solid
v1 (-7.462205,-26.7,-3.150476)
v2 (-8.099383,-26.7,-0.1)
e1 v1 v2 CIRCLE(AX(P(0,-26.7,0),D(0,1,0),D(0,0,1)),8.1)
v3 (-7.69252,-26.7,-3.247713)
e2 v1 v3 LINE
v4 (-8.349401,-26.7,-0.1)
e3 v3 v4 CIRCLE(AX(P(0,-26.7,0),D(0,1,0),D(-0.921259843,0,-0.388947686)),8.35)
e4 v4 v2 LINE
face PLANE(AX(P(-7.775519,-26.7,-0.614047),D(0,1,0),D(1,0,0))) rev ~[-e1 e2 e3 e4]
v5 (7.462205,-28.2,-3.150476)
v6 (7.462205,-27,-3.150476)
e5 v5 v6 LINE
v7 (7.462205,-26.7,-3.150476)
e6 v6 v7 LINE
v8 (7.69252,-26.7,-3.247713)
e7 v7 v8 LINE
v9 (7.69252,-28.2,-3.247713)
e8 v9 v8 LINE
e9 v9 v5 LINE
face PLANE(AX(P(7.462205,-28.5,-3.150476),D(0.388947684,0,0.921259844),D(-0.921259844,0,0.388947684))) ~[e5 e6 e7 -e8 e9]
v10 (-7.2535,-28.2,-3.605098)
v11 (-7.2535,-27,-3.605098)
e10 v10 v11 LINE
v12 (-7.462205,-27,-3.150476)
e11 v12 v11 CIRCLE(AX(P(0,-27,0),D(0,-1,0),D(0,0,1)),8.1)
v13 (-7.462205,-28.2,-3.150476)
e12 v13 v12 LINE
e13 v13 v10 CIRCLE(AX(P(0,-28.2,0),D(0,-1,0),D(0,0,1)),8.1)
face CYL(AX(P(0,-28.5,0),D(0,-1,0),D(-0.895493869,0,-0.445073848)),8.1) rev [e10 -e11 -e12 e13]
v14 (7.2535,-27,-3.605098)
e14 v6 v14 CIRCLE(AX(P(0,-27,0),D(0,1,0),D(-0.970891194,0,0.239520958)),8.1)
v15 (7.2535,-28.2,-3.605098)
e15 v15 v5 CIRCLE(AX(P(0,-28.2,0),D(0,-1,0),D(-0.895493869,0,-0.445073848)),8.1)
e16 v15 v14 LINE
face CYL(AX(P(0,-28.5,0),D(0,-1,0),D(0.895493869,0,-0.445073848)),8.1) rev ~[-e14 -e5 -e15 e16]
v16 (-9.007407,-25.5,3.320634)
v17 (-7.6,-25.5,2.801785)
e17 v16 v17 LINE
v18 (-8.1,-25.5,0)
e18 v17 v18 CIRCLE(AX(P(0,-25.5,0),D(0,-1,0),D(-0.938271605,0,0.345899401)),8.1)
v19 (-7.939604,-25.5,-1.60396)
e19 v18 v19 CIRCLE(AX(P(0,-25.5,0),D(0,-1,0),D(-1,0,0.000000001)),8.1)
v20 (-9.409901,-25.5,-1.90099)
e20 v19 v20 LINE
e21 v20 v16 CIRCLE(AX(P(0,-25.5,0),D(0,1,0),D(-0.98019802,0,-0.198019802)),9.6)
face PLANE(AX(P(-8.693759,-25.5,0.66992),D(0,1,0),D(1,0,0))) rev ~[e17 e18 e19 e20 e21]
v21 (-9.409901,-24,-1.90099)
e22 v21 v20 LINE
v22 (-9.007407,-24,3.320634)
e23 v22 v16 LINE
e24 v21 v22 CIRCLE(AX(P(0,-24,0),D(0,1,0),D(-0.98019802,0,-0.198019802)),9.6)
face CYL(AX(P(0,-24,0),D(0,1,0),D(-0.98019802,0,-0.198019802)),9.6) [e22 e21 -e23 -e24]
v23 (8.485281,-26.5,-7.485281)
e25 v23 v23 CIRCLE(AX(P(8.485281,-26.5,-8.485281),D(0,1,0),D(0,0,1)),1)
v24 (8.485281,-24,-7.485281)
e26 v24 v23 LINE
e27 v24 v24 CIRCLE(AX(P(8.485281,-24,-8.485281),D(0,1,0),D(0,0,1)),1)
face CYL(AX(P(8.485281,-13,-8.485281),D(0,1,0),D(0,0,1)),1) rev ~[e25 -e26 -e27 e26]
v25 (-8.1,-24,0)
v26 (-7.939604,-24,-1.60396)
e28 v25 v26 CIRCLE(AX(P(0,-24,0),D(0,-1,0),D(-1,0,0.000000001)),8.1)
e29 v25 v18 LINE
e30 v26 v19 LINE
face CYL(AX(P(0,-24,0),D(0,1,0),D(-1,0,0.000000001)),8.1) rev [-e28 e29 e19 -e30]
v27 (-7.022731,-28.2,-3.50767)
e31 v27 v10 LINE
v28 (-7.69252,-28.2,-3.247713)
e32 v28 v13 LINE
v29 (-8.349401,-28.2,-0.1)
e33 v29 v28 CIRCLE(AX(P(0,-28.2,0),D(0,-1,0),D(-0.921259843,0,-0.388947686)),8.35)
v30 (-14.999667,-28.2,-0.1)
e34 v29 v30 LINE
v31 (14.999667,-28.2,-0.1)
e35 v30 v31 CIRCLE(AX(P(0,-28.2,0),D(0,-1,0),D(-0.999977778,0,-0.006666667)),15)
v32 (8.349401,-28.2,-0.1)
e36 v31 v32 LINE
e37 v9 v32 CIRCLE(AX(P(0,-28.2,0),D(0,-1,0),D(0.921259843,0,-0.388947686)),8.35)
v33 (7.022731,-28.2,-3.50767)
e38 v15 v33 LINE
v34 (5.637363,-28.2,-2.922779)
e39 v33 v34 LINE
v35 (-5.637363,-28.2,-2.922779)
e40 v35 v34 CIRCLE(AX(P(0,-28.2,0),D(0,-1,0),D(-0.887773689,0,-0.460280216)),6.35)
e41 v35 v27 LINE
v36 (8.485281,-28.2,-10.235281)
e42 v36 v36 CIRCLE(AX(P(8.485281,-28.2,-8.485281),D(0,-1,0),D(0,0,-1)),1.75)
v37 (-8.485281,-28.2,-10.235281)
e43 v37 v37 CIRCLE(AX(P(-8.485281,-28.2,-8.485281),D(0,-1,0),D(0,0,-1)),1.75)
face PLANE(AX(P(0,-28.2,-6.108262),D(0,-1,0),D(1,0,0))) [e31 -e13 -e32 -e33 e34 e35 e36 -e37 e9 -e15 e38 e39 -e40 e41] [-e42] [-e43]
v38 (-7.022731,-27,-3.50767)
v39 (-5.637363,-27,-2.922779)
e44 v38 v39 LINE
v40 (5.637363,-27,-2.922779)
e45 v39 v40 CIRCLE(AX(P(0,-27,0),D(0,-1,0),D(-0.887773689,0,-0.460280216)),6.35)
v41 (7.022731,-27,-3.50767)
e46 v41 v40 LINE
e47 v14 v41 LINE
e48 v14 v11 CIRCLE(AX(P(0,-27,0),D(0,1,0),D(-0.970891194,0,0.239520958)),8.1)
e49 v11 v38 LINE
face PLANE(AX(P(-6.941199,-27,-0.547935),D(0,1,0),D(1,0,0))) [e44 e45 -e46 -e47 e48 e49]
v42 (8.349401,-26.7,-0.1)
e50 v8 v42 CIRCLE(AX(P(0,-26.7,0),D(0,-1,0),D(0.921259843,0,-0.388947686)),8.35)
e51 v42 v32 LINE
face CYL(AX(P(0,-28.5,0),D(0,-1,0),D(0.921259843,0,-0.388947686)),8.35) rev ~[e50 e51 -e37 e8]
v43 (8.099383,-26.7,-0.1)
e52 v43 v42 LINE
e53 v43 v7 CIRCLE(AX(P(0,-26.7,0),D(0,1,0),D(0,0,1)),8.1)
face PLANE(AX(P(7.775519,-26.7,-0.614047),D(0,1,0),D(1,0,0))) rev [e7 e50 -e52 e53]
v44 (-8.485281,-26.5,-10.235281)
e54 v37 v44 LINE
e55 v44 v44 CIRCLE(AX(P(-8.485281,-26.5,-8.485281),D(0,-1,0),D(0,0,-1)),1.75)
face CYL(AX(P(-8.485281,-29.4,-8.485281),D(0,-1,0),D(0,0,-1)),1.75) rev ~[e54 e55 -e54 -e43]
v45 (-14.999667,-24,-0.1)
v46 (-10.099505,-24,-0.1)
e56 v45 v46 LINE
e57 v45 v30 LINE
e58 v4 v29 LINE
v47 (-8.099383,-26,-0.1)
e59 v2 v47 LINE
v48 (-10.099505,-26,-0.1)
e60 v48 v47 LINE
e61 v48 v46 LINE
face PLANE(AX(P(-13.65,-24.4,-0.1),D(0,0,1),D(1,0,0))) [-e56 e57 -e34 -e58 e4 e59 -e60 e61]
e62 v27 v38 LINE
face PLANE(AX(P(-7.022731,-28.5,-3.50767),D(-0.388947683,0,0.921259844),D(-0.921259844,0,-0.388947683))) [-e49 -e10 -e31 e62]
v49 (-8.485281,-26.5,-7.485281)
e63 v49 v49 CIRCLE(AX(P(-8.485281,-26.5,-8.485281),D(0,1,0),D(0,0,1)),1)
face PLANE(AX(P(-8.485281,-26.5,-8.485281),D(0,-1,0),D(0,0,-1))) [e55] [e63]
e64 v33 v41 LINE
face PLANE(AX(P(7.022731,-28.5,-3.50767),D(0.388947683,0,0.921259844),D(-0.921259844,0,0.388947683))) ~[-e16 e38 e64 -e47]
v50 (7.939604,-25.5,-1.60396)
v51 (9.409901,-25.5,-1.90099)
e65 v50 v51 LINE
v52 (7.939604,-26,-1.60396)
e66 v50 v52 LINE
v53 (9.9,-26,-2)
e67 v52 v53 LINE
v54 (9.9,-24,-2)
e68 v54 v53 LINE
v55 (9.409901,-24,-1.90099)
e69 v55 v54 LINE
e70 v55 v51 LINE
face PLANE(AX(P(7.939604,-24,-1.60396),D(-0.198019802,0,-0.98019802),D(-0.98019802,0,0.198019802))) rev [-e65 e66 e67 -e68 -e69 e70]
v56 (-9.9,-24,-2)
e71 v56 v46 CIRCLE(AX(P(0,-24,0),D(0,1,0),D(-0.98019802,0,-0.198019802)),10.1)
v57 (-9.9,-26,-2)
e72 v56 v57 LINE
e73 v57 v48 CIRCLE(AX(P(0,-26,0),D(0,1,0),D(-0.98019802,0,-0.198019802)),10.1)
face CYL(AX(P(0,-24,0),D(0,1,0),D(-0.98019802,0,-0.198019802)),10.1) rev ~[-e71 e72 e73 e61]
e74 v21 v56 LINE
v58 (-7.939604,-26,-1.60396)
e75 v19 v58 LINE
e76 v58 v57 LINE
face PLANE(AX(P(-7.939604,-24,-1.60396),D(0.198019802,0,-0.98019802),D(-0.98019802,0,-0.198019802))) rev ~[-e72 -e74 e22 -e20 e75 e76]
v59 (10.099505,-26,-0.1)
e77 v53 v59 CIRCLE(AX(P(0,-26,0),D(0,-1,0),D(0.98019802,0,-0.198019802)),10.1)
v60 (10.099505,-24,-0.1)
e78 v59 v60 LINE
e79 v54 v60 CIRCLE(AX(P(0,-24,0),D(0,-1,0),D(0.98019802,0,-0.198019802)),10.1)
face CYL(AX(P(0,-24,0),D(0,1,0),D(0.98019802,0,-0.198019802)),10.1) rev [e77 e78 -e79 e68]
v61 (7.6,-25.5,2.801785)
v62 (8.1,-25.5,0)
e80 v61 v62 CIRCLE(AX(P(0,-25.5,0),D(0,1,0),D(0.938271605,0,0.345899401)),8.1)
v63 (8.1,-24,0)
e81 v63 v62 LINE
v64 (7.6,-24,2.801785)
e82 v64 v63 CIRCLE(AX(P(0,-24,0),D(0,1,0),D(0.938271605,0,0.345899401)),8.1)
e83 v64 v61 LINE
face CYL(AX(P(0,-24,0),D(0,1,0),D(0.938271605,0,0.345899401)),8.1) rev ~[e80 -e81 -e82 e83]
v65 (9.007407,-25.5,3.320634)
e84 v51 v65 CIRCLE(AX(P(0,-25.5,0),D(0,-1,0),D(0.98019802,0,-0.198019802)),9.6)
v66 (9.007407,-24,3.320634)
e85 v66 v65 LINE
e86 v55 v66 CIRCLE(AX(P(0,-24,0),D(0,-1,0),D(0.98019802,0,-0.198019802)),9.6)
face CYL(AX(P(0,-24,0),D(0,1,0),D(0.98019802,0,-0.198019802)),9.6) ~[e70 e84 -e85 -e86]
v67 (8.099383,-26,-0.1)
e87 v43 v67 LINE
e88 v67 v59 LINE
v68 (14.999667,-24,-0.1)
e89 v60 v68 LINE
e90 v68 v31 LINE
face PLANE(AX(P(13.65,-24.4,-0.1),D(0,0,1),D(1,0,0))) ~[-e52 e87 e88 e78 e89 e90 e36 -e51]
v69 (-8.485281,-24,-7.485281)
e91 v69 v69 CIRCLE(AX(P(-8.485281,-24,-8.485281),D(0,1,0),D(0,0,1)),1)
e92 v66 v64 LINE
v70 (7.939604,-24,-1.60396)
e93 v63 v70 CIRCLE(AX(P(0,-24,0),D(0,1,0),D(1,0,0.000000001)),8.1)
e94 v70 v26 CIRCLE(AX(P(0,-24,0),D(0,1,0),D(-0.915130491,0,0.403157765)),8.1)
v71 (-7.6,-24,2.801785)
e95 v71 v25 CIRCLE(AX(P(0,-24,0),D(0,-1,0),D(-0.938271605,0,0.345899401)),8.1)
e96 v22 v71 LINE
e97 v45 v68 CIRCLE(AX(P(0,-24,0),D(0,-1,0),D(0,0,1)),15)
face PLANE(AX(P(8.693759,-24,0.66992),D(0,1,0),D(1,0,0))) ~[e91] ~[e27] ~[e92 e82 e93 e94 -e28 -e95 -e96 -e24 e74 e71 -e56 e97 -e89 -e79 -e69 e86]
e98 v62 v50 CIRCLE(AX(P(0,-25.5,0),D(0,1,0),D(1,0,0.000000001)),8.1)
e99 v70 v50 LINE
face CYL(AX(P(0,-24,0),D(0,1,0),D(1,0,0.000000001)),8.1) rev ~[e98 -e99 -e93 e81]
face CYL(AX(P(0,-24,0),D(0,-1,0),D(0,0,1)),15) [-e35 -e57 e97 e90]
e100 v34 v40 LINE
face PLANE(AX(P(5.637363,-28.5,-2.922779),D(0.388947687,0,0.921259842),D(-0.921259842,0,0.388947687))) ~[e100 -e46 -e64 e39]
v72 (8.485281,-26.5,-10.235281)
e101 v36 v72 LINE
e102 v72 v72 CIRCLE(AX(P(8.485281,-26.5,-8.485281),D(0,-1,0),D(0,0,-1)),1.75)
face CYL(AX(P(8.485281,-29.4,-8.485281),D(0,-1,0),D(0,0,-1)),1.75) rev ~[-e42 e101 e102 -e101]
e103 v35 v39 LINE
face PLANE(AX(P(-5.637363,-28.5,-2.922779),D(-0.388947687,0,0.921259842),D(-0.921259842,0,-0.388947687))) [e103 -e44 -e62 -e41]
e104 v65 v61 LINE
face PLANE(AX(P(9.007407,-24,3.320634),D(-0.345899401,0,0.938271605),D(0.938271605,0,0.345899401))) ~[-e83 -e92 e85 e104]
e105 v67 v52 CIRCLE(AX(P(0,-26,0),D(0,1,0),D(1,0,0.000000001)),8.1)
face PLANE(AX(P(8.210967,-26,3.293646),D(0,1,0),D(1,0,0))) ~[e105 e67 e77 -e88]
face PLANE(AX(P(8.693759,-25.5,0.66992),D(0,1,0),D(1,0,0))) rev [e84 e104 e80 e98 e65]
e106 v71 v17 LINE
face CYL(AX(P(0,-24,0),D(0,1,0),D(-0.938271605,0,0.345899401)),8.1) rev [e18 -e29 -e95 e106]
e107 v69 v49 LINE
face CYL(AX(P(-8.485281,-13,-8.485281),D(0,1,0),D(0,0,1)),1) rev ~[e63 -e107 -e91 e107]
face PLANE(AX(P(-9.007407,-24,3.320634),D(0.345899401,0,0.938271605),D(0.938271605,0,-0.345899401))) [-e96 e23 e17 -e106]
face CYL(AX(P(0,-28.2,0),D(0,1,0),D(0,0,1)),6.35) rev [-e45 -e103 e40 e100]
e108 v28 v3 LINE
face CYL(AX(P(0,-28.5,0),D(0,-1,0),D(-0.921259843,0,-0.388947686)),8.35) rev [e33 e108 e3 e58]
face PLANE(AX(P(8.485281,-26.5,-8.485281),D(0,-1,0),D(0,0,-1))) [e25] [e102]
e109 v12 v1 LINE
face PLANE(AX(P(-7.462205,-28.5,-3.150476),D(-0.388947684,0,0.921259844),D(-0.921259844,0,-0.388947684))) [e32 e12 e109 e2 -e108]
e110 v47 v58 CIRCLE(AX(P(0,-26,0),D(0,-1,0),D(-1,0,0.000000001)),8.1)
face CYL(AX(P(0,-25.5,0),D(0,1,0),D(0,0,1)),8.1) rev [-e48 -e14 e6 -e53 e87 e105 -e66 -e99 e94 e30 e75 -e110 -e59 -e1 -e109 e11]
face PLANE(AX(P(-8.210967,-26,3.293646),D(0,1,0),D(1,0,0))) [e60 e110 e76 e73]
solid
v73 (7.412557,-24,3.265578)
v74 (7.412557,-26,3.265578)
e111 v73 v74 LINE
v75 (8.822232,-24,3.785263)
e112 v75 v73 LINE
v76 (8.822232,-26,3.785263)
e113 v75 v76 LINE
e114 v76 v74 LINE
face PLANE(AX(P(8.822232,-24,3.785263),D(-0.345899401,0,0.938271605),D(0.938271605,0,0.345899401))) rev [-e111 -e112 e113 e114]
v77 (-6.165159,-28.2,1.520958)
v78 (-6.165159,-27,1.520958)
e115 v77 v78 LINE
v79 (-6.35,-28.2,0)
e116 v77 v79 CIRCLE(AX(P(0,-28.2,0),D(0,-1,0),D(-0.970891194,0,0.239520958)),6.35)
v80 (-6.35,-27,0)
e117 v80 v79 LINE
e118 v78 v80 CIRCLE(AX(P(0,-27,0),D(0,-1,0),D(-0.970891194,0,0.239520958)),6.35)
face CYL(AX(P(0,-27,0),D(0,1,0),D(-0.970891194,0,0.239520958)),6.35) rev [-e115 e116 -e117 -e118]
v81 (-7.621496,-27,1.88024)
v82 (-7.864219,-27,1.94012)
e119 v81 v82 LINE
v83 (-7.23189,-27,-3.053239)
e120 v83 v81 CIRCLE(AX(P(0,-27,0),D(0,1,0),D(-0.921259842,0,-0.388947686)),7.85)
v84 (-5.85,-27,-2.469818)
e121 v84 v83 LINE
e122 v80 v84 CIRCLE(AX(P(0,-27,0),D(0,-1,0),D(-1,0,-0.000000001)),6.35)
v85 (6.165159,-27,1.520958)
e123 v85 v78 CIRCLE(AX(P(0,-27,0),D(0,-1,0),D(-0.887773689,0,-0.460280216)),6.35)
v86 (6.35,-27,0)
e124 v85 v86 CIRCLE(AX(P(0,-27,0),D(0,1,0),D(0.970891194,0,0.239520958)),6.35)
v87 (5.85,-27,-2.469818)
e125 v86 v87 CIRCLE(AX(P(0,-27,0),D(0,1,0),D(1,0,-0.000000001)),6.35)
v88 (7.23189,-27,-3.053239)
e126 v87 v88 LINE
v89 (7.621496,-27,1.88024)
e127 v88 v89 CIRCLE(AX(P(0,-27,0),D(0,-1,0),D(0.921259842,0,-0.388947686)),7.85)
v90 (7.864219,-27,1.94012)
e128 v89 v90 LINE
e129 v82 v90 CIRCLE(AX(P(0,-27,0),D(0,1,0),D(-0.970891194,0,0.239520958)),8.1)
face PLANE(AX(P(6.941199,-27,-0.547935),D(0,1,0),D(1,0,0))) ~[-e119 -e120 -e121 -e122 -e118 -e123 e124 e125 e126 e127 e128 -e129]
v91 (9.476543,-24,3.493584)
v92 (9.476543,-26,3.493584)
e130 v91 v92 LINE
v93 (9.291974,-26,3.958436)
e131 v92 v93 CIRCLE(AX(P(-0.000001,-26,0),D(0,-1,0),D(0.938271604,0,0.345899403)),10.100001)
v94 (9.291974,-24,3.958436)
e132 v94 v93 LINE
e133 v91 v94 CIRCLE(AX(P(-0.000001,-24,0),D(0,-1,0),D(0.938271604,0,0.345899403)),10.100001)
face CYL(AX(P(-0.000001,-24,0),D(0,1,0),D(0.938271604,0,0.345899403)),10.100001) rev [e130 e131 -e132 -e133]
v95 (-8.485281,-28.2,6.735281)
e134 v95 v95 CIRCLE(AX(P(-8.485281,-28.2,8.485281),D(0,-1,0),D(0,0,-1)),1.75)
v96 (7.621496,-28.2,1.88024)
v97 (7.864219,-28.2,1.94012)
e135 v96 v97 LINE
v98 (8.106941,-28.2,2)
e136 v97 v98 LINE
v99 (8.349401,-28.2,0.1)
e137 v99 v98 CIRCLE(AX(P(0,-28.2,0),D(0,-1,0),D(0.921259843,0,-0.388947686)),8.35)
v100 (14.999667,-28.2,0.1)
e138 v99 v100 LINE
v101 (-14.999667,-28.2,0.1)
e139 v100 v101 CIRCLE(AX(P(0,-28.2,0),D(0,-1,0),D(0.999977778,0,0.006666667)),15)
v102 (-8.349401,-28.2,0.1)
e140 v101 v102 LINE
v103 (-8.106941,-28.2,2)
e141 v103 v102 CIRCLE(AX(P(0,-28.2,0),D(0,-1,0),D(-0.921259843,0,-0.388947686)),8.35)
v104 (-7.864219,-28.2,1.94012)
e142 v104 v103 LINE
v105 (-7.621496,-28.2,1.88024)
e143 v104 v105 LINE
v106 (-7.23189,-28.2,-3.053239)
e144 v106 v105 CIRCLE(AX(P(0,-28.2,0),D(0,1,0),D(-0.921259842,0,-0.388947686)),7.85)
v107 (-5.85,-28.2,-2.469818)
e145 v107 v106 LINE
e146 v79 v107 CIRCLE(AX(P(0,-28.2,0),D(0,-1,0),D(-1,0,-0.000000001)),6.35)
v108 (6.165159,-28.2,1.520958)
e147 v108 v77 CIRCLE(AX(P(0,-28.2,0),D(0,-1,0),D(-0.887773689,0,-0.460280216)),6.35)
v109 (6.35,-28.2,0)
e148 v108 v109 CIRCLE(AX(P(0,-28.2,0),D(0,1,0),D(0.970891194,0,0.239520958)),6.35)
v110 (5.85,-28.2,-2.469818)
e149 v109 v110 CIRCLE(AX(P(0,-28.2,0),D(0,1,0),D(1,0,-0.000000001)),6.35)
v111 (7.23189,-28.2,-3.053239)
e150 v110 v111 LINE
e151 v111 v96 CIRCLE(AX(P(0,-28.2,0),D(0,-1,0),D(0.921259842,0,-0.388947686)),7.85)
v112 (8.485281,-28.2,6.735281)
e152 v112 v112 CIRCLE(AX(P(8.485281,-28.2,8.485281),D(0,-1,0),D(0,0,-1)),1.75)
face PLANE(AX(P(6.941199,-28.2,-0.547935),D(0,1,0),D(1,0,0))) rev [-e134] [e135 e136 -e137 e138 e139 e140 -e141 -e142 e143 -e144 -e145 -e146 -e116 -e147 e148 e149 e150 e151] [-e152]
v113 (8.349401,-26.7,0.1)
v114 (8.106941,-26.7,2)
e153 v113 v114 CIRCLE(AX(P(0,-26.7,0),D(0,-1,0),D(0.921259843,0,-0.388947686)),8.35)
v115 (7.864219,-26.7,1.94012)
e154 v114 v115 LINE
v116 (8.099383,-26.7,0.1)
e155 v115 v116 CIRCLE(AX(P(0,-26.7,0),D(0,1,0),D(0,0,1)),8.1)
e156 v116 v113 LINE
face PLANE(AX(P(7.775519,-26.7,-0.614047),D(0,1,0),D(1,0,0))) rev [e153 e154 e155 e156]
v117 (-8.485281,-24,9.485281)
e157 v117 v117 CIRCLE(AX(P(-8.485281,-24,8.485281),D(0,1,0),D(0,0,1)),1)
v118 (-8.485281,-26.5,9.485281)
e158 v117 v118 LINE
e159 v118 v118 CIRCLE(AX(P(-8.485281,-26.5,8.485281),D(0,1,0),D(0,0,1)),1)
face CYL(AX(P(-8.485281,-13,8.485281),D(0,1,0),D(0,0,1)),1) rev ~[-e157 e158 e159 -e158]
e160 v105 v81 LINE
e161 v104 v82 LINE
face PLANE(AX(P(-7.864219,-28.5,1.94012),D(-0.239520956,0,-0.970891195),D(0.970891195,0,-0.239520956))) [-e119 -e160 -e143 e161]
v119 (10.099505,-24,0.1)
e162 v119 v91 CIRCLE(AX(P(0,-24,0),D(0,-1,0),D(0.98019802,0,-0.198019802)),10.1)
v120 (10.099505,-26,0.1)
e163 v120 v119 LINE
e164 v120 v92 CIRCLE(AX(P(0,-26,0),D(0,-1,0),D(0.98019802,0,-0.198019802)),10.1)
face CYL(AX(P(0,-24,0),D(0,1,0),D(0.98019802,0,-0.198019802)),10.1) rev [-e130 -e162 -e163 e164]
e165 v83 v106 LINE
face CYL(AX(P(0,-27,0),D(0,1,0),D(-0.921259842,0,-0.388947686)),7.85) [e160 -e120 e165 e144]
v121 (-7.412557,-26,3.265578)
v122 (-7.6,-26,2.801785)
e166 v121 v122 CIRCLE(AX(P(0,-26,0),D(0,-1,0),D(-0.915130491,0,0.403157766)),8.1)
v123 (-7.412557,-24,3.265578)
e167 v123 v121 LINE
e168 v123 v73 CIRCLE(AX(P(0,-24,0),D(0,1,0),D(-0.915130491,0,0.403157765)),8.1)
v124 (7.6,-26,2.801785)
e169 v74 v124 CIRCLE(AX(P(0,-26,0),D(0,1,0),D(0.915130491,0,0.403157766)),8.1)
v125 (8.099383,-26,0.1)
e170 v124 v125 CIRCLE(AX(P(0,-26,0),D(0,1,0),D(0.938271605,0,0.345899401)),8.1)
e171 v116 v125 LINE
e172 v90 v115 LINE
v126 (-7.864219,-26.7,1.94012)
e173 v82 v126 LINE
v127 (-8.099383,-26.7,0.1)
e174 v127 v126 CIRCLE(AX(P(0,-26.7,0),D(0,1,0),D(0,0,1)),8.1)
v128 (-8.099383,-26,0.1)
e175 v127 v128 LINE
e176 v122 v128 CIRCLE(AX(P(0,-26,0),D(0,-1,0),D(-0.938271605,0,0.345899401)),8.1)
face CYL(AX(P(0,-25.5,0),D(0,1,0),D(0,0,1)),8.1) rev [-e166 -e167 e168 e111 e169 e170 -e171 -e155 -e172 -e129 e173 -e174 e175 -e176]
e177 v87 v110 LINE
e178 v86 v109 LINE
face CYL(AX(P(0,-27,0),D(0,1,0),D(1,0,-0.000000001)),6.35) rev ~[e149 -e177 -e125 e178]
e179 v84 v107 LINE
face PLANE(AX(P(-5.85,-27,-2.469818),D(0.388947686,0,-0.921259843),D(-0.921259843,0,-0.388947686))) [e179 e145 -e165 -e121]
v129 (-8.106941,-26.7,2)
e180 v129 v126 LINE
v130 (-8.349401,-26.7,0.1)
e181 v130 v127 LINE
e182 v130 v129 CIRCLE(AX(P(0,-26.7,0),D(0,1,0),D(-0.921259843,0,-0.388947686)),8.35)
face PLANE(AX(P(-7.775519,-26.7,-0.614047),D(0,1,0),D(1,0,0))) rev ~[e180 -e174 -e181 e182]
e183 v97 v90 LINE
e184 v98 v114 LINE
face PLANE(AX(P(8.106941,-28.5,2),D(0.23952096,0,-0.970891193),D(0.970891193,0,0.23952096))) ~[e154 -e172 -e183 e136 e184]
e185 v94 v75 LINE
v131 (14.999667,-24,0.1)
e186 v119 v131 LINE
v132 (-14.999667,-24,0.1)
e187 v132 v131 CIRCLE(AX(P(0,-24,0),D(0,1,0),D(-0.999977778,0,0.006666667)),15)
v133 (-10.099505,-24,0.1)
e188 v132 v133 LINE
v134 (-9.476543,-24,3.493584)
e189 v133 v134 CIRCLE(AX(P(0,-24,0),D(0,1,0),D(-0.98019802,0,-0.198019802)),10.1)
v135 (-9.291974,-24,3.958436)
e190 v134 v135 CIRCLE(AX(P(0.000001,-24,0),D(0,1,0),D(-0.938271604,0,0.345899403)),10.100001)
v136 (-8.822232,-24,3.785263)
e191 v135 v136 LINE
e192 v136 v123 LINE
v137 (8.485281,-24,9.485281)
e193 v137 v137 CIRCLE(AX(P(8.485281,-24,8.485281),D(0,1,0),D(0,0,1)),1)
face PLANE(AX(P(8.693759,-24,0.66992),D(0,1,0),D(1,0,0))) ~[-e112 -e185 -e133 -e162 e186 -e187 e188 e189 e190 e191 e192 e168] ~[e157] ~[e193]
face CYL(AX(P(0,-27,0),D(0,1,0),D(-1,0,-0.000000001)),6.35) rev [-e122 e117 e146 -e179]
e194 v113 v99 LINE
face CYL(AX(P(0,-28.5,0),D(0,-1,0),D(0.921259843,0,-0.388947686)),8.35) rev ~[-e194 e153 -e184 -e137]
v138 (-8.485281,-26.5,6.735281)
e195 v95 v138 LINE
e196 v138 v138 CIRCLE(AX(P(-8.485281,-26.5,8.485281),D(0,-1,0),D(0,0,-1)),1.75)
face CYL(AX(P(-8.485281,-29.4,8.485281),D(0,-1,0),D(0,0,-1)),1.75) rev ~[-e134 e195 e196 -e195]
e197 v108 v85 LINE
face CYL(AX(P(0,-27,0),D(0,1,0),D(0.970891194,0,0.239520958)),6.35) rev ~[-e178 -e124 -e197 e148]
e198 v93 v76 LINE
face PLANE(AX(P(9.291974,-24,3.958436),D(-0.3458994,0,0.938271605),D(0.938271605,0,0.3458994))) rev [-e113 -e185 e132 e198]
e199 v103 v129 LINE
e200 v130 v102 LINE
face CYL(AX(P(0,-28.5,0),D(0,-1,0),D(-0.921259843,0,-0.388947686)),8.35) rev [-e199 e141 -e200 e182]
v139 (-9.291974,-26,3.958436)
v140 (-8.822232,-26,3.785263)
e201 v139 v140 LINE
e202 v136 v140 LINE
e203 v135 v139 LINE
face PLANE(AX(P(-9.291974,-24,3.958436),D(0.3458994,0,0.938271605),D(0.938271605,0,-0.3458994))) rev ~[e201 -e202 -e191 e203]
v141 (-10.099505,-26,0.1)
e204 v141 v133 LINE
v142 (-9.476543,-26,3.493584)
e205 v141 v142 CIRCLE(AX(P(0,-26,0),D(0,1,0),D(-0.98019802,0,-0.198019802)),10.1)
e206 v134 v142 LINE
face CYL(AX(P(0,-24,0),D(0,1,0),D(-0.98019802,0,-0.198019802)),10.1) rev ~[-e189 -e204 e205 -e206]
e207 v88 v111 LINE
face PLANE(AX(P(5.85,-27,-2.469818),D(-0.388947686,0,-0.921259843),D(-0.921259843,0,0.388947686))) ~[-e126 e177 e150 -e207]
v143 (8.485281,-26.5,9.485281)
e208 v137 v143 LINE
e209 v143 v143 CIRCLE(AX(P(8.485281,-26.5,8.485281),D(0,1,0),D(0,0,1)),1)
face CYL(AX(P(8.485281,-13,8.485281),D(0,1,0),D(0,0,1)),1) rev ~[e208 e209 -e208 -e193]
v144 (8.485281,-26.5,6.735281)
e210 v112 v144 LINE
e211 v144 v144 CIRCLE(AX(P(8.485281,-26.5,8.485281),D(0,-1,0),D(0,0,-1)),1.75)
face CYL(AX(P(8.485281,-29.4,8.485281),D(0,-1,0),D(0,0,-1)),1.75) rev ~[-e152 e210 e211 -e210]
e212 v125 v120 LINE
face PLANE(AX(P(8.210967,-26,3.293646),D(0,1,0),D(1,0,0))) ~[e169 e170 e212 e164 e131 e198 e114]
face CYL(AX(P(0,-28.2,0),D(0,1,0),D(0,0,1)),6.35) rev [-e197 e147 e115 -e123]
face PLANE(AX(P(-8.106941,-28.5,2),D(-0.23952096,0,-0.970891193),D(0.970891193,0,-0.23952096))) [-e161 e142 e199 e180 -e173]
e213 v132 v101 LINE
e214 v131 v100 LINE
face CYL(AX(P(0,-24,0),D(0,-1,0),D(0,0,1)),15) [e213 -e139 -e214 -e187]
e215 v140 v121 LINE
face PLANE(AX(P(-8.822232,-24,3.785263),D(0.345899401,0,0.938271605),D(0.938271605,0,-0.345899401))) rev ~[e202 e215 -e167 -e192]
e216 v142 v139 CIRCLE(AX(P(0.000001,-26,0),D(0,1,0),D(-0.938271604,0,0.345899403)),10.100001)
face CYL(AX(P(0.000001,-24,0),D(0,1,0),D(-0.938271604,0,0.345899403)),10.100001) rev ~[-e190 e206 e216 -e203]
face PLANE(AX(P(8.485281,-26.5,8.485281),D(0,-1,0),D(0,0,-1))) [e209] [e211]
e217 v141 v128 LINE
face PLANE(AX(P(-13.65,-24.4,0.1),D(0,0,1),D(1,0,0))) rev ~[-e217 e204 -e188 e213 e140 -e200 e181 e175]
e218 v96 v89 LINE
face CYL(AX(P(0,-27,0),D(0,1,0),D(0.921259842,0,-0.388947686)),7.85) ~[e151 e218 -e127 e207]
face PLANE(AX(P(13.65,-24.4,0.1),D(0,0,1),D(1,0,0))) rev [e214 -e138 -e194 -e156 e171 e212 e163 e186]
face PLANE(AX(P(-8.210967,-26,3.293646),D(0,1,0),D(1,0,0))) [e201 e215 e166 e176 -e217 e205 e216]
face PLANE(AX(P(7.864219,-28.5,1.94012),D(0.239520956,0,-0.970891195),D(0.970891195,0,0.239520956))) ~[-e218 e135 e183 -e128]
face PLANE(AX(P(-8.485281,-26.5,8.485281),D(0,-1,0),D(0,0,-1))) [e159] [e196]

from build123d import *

# Parameters (mm, degrees)
SKETCH4_R           = 1
CUT_EXTRUDE2_DEPTH  = 25.879710609
SKETCH4_3_R         = 1.75
SKETCH4_3_R_2       = 1
CUT_EXTRUDE3_DEPTH  = 9.4
CHAMFER1_SIZE       = 1
SKETCH2_W           = 41.708786628
SKETCH2_H           = 54.576605706
CUT_EXTRUDE1_DEPTH  = 0.05
SKETCH1_5_W         = 6.9
SKETCH1_5_H         = 3
SKETCH1_5_H_2       = 1.2
SKETCH4_4_R         = 1
CUT_EXTRUDE4_DEPTH  = 27.813429471
SKETCH5_R           = 1.75
CUT_EXTRUDE5_DEPTH  = 2.9
CUT_EXTRUDE8_DEPTH  = 2
BOSS_EXTRUDE1_DEPTH = 1.5
CUT_EXTRUDE9_START  = -1.5
CUT_EXTRUDE9_DEPTH  = 1.8
BOSS_EXTRUDE2_DEPTH = 1.2
SKETCH10_W          = 7.7
SKETCH10_H          = 10
SKETCH10_W_2        = 1.8
SKETCH10_H_2        = 3.6
CUT_EXTRUDE10_DEPTH = 0.1
CUT_EXTRUDE11_DEPTH = 1.2


with BuildPart() as part:
    # Sketch1 → Revolve1 (revolve)
    with BuildSketch(Plane.XY, mode=Mode.PRIVATE) as revolve1_sk:
        Polygon((-3, 0), (-8, 0), (-8, -3.7), (-6, -3.7), (-6, -9.7), (-8, -9.7), (-8, -13), (-15, -13), (-15, -23.9), (-6.1, -23.9), (-6.1, -21), (-8.1, -21), (-8.1, -14.3), (-3, -14.3), align=None)
    revolve(revolve1_sk.sketch.rotate(Axis((0, 21.737527327, 0), (0, -1, 0)), 270), axis=Axis((0, 21.737527327, 0), (0, -1, 0)))

    # Sketch4 → Cut-Extrude2 (cut, through all)
    with BuildSketch(Plane(origin=(0, -13, 0), x_dir=(1, 0, 0), z_dir=(0, 1, 0))):
        with Locations(Location((-8.485281374, 8.485281374, 0), (0, 0, 270))):
            Circle(SKETCH4_R)
        with Locations(Location((8.485281374, 8.485281374, 0), (0, 0, 270))):
            Circle(SKETCH4_R)
        with Locations(Location((8.485281374, -8.485281374, 0), (0, 0, 270))):
            Circle(SKETCH4_R)
        with Locations(Location((-8.485281374, -8.485281374, 0), (0, 0, 270))):
            Circle(SKETCH4_R)
    extrude(amount=-CUT_EXTRUDE2_DEPTH, mode=Mode.SUBTRACT)

    # Sketch4<3> → Cut-Extrude3 (cut)
    # profile 1 of 5: a face of its own
    with BuildSketch(Plane(origin=(0, -13, 0), x_dir=(1, 0, 0), z_dir=(0, 1, 0))):
        with Locations(Location((8.485281374, 8.485281374, 0), (0, 0, 270))):
            Circle(SKETCH4_3_R)
        with Locations(Location((8.485281374, 8.485281374, 0), (0, 0, 270))):
            Circle(SKETCH4_3_R_2, mode=Mode.SUBTRACT)
    # profile 2 of 5: a face of its own
    with BuildSketch(Plane(origin=(0, -13, 0), x_dir=(1, 0, 0), z_dir=(0, 1, 0))):
        with Locations(Location((8.485281374, -8.485281374, 0), (0, 0, 270))):
            Circle(SKETCH4_3_R)
        with Locations(Location((8.485281374, -8.485281374, 0), (0, 0, 270))):
            Circle(SKETCH4_3_R_2, mode=Mode.SUBTRACT)
    # profile 3 of 5: a face of its own
    with BuildSketch(Plane(origin=(0, -13, 0), x_dir=(1, 0, 0), z_dir=(0, 1, 0))):
        with Locations(Location((-8.485281374, -8.485281374, 0), (0, 0, 270))):
            Circle(SKETCH4_3_R)
        with Locations(Location((-8.485281374, -8.485281374, 0), (0, 0, 270))):
            Circle(SKETCH4_3_R_2, mode=Mode.SUBTRACT)
    # profile 4 of 5: a face of its own
    with BuildSketch(Plane(origin=(0, -13, 0), x_dir=(1, 0, 0), z_dir=(0, 1, 0))):
        with Locations(Location((-8.485281374, 8.485281374, 0), (0, 0, 270))):
            Circle(SKETCH4_3_R_2)
    # profile 5 of 5: a face of its own
    with BuildSketch(Plane(origin=(0, -13, 0), x_dir=(1, 0, 0), z_dir=(0, 1, 0))):
        with Locations(Location((-8.485281374, 8.485281374, 0), (0, 0, 270))):
            Circle(SKETCH4_3_R)
    extrude(amount=-CUT_EXTRUDE3_DEPTH, mode=Mode.SUBTRACT)

    # Chamfer1
    chamfer1_edges = [part.edges().sort_by_distance(p)[0] for p in [
        (0, 0, -3),
    ]]
    chamfer(chamfer1_edges, length=CHAMFER1_SIZE)

    # Sketch2 → Cut-Extrude1 (cut, symmetric)
    with BuildSketch(Plane.XY):
        Rectangle(SKETCH2_W, SKETCH2_H)
    extrude(amount=CUT_EXTRUDE1_DEPTH, both=True, mode=Mode.SUBTRACT)


with BuildPart() as cut_extrude1_piece_1:
    # of the separate pieces the step leaves, piece 1, a body of its own (cut_extrude1_pieces)
    add(part.part.solids().sort_by_distance((-2.999583304, -1, 0.05))[0])


with BuildPart() as cut_extrude1_piece_2:
    # of the separate pieces the step leaves, piece 2, a body of its own (cut_extrude1_pieces)
    add(part.part.solids().sort_by_distance((-2.999583304, -1, -0.05))[0])


with BuildPart() as body_3:
    # Sketch1<5> → Revolve2 (revolve)
    with BuildSketch(Plane.XY, mode=Mode.PRIVATE) as revolve2_sk:
        with Locations((-11.55, -25.5)):
            Rectangle(SKETCH1_5_W, SKETCH1_5_H)
        Polygon((-6.35, -27), (-8.1, -27), (-15, -27), (-15, -28.2), (-8.1, -28.2), (-6.35, -28.2), align=None)
        with Locations((-11.55, -28.8)):
            Rectangle(SKETCH1_5_W, SKETCH1_5_H_2)
    revolve(revolve2_sk.sketch.rotate(Axis((0, 21.737527327, 0), (0, -1, 0)), 270), axis=Axis((0, 21.737527327, 0), (0, -1, 0)))

    # Sketch4<4> → Cut-Extrude4 (cut, through all)
    with BuildSketch(Plane(origin=(0, -13, 0), x_dir=(1, 0, 0), z_dir=(0, 1, 0))):
        with Locations(Location((8.485281374, 8.485281374, 0), (0, 0, 270))):
            Circle(SKETCH4_4_R)
        with Locations(Location((8.485281374, -8.485281374, 0), (0, 0, 270))):
            Circle(SKETCH4_4_R)
        with Locations(Location((-8.485281374, 8.485281374, 0), (0, 0, 270))):
            Circle(SKETCH4_4_R)
        with Locations(Location((-8.485281374, -8.485281374, 0), (0, 0, 270))):
            Circle(SKETCH4_4_R)
    extrude(amount=-CUT_EXTRUDE4_DEPTH, mode=Mode.SUBTRACT)

    # Sketch5 → Cut-Extrude5 (cut)
    with BuildSketch(Plane.XZ.offset(29.4)):
        with Locations(Location((8.485281374, 8.485281374, 0), (0, 0, 270))):
            Circle(SKETCH5_R)
        with Locations(Location((-8.485281374, 8.485281374, 0), (0, 0, 270))):
            Circle(SKETCH5_R)
        with Locations(Location((-8.485281374, -8.485281374, 0), (0, 0, 270))):
            Circle(SKETCH5_R)
        with Locations(Location((8.485281374, -8.485281374, 0), (0, 0, 270))):
            Circle(SKETCH5_R)
    extrude(amount=-CUT_EXTRUDE5_DEPTH, mode=Mode.SUBTRACT)

    # Sketch8 → Cut-Extrude8 (cut)
    with BuildSketch(Plane(origin=(0, -24, 0), x_dir=(1, 0, 0), z_dir=(0, 1, 0))):
        with BuildLine():
            ThreePointArc((-7.41255698, -3.265577899), (-7.509859699, -3.035128877), (-7.6, -2.801785145))
            Line((-7.6, -2.801785145), (-9.007407407, -3.320634246))
            ThreePointArc((-9.007407407, -3.320634246), (-8.917846338, -3.55415485), (-8.822232332, -3.785263092))
            Line((-8.822232332, -3.785263092), (-7.41255698, -3.265577899))
        make_face()
        with BuildLine():
            ThreePointArc((-8.822232332, -3.785263092), (-8.917846338, -3.55415485), (-9.007407407, -3.320634246))
            Line((-9.007407407, -3.320634246), (-9.47654321, -3.493583947))
            ThreePointArc((-9.47654321, -3.493583947), (-9.387136546, -3.727152729), (-9.291974114, -3.95843619))
            Line((-9.291974114, -3.95843619), (-8.822232332, -3.785263092))
        make_face()
        with BuildLine():
            Line((-9.47654321, -3.493583947), (-9.007407407, -3.320634246))
            ThreePointArc((-9.007407407, -3.320634246), (-9.571606571, -0.737799192), (-9.40990099, 1.900990099))
            Line((-9.40990099, 1.900990099), (-9.9, 2))
            ThreePointArc((-9.9, 2), (-10.070127747, -0.776226233), (-9.47654321, -3.493583947))
        make_face()
        with BuildLine():
            Line((-9.007407407, -3.320634246), (-7.6, -2.801785145))
            ThreePointArc((-7.6, -2.801785145), (-7.974020316, -1.423024947), (-8.1, 0))
            ThreePointArc((-8.1, 0), (-8.059801241, 0.805980124), (-7.93960396, 1.603960396))
            Line((-7.93960396, 1.603960396), (-9.40990099, 1.900990099))
            ThreePointArc((-9.40990099, 1.900990099), (-9.571606571, -0.737799192), (-9.007407407, -3.320634246))
        make_face()
    cut_extrude8 = extrude(amount=-CUT_EXTRUDE8_DEPTH, mode=Mode.SUBTRACT)

    # Sketch8<3> → Boss-Extrude1 (add)
    with BuildSketch(Plane(origin=(0, -24, 0), x_dir=(1, 0, 0), z_dir=(0, 1, 0))):
        with BuildLine():
            Line((-9.007407407, -3.320634246), (-7.6, -2.801785145))
            ThreePointArc((-7.6, -2.801785145), (-7.974020316, -1.423024947), (-8.1, 0))
            ThreePointArc((-8.1, 0), (-8.059801241, 0.805980124), (-7.93960396, 1.603960396))
            Line((-7.93960396, 1.603960396), (-9.40990099, 1.900990099))
            ThreePointArc((-9.40990099, 1.900990099), (-9.571606571, -0.737799192), (-9.007407407, -3.320634246))
        make_face()
    boss_extrude1 = extrude(amount=-BOSS_EXTRUDE1_DEPTH)

    # Sketch9 → Cut-Extrude9 (cut)
    with BuildSketch(Plane(origin=(0, -27, 0), x_dir=(1, 0, 0), z_dir=(0, 1, 0)).offset(CUT_EXTRUDE9_START)):
        with BuildLine():
            ThreePointArc((-7.621495873, -1.880239521), (-7.825635414, 0.618005155), (-7.231889764, 3.053239336))
            Line((-7.231889764, 3.053239336), (-7.462204724, 3.150476258))
            ThreePointArc((-7.462204724, 3.150476258), (-8.074859471, 0.637686848), (-7.864218672, -1.94011976))
            Line((-7.864218672, -1.94011976), (-7.621495873, -1.880239521))
        make_face()
        with BuildLine():
            ThreePointArc((-7.864218672, -1.94011976), (-8.074859471, 0.637686848), (-7.462204724, 3.150476258))
            Line((-7.462204724, 3.150476258), (-7.692519685, 3.247713179))
            ThreePointArc((-7.692519685, 3.247713179), (-8.324083529, 0.657368541), (-8.10694147, -2))
            Line((-8.10694147, -2), (-7.864218672, -1.94011976))
        make_face()
        with BuildLine():
            Line((-7.462204724, 3.150476258), (-7.231889764, 3.053239336))
            ThreePointArc((-7.231889764, 3.053239336), (-7.130931349, 3.282120976), (-7.022731269, 3.507669529))
            Line((-7.022731269, 3.507669529), (-7.25350034, 3.605098171))
            ThreePointArc((-7.25350034, 3.605098171), (-7.361362928, 3.37939874), (-7.462204724, 3.150476258))
        make_face()
        with BuildLine():
            Line((-7.231889764, 3.053239336), (-5.85, 2.469817807))
            ThreePointArc((-5.85, 2.469817807), (-5.748144943, 2.698393915), (-5.637362924, 2.922779373))
            Line((-5.637362924, 2.922779373), (-7.022731269, 3.507669529))
            ThreePointArc((-7.022731269, 3.507669529), (-7.130931349, 3.282120976), (-7.231889764, 3.053239336))
        make_face()
        with BuildLine():
            ThreePointArc((-6.35, 0), (-6.223744853, 1.259960317), (-5.85, 2.469817807))
            Line((-5.85, 2.469817807), (-7.231889764, 3.053239336))
            ThreePointArc((-7.231889764, 3.053239336), (-7.825635414, 0.618005155), (-7.621495873, -1.880239521))
            Line((-7.621495873, -1.880239521), (-6.165159082, -1.520958084))
            ThreePointArc((-6.165159082, -1.520958084), (-6.303620395, -0.766074353), (-6.35, 0))
        make_face()
    cut_extrude9 = extrude(amount=CUT_EXTRUDE9_DEPTH, mode=Mode.SUBTRACT)

    # Sketch9<3> → Boss-Extrude2 (add)
    with BuildSketch(Plane(origin=(0, -27, 0), x_dir=(1, 0, 0), z_dir=(0, 1, 0))):
        with BuildLine():
            ThreePointArc((-6.35, 0), (-6.223744853, 1.259960317), (-5.85, 2.469817807))
            Line((-5.85, 2.469817807), (-7.231889764, 3.053239336))
            ThreePointArc((-7.231889764, 3.053239336), (-7.825635414, 0.618005155), (-7.621495873, -1.880239521))
            Line((-7.621495873, -1.880239521), (-6.165159082, -1.520958084))
            ThreePointArc((-6.165159082, -1.520958084), (-6.303620395, -0.766074353), (-6.35, 0))
        make_face()
    boss_extrude2 = extrude(amount=-BOSS_EXTRUDE2_DEPTH)

    # Sketch10 → Cut-Extrude10 (cut, symmetric)
    with BuildSketch(Plane.XY):
        with Locations((-13.65, -24.4)):
            Rectangle(SKETCH10_W, SKETCH10_H)
        with Locations((-8.9, -27.6)):
            Rectangle(SKETCH10_W_2, SKETCH10_H_2)
    cut_extrude10 = extrude(amount=CUT_EXTRUDE10_DEPTH, both=True, mode=Mode.SUBTRACT)

    # Mirror1: Cut-Extrude8, Boss-Extrude1, Cut-Extrude9, Boss-Extrude2, Cut-Extrude10 across plane
    add(cut_extrude8.mirror(Plane(origin=(0, 0, 0), x_dir=(0, 0, 1), z_dir=(1, 0, 0))), mode=Mode.SUBTRACT)
    add(boss_extrude1.mirror(Plane(origin=(0, 0, 0), x_dir=(0, 0, 1), z_dir=(1, 0, 0))))
    add(cut_extrude9.mirror(Plane(origin=(0, 0, 0), x_dir=(0, 0, 1), z_dir=(1, 0, 0))), mode=Mode.SUBTRACT)
    add(boss_extrude2.mirror(Plane(origin=(0, 0, 0), x_dir=(0, 0, 1), z_dir=(1, 0, 0))))
    add(cut_extrude10.mirror(Plane(origin=(0, 0, 0), x_dir=(0, 0, 1), z_dir=(1, 0, 0))), mode=Mode.SUBTRACT)

    # Sketch11 → Cut-Extrude11 (cut)
    with BuildSketch(Plane.XZ.offset(29.4)):
        with BuildLine():
            Line((8.099382693, 0.1), (14.999666663, 0.1))
            ThreePointArc((14.999666663, 0.1), (0, 15), (-14.999666663, 0.1))
            Line((-14.999666663, 0.1), (-8.099382693, 0.1))
            ThreePointArc((-8.099382693, 0.1), (0, 8.1), (8.099382693, 0.1))
        make_face()
        with BuildLine():
            Line((14.999666663, -0.1), (8.099382693, -0.1))
            ThreePointArc((8.099382693, -0.1), (0, -8.1), (-8.099382693, -0.1))
            Line((-8.099382693, -0.1), (-14.999666663, -0.1))
            ThreePointArc((-14.999666663, -0.1), (0, -15), (14.999666663, -0.1))
        make_face()
    extrude(amount=-CUT_EXTRUDE11_DEPTH, mode=Mode.SUBTRACT)


solid = body_3.part
